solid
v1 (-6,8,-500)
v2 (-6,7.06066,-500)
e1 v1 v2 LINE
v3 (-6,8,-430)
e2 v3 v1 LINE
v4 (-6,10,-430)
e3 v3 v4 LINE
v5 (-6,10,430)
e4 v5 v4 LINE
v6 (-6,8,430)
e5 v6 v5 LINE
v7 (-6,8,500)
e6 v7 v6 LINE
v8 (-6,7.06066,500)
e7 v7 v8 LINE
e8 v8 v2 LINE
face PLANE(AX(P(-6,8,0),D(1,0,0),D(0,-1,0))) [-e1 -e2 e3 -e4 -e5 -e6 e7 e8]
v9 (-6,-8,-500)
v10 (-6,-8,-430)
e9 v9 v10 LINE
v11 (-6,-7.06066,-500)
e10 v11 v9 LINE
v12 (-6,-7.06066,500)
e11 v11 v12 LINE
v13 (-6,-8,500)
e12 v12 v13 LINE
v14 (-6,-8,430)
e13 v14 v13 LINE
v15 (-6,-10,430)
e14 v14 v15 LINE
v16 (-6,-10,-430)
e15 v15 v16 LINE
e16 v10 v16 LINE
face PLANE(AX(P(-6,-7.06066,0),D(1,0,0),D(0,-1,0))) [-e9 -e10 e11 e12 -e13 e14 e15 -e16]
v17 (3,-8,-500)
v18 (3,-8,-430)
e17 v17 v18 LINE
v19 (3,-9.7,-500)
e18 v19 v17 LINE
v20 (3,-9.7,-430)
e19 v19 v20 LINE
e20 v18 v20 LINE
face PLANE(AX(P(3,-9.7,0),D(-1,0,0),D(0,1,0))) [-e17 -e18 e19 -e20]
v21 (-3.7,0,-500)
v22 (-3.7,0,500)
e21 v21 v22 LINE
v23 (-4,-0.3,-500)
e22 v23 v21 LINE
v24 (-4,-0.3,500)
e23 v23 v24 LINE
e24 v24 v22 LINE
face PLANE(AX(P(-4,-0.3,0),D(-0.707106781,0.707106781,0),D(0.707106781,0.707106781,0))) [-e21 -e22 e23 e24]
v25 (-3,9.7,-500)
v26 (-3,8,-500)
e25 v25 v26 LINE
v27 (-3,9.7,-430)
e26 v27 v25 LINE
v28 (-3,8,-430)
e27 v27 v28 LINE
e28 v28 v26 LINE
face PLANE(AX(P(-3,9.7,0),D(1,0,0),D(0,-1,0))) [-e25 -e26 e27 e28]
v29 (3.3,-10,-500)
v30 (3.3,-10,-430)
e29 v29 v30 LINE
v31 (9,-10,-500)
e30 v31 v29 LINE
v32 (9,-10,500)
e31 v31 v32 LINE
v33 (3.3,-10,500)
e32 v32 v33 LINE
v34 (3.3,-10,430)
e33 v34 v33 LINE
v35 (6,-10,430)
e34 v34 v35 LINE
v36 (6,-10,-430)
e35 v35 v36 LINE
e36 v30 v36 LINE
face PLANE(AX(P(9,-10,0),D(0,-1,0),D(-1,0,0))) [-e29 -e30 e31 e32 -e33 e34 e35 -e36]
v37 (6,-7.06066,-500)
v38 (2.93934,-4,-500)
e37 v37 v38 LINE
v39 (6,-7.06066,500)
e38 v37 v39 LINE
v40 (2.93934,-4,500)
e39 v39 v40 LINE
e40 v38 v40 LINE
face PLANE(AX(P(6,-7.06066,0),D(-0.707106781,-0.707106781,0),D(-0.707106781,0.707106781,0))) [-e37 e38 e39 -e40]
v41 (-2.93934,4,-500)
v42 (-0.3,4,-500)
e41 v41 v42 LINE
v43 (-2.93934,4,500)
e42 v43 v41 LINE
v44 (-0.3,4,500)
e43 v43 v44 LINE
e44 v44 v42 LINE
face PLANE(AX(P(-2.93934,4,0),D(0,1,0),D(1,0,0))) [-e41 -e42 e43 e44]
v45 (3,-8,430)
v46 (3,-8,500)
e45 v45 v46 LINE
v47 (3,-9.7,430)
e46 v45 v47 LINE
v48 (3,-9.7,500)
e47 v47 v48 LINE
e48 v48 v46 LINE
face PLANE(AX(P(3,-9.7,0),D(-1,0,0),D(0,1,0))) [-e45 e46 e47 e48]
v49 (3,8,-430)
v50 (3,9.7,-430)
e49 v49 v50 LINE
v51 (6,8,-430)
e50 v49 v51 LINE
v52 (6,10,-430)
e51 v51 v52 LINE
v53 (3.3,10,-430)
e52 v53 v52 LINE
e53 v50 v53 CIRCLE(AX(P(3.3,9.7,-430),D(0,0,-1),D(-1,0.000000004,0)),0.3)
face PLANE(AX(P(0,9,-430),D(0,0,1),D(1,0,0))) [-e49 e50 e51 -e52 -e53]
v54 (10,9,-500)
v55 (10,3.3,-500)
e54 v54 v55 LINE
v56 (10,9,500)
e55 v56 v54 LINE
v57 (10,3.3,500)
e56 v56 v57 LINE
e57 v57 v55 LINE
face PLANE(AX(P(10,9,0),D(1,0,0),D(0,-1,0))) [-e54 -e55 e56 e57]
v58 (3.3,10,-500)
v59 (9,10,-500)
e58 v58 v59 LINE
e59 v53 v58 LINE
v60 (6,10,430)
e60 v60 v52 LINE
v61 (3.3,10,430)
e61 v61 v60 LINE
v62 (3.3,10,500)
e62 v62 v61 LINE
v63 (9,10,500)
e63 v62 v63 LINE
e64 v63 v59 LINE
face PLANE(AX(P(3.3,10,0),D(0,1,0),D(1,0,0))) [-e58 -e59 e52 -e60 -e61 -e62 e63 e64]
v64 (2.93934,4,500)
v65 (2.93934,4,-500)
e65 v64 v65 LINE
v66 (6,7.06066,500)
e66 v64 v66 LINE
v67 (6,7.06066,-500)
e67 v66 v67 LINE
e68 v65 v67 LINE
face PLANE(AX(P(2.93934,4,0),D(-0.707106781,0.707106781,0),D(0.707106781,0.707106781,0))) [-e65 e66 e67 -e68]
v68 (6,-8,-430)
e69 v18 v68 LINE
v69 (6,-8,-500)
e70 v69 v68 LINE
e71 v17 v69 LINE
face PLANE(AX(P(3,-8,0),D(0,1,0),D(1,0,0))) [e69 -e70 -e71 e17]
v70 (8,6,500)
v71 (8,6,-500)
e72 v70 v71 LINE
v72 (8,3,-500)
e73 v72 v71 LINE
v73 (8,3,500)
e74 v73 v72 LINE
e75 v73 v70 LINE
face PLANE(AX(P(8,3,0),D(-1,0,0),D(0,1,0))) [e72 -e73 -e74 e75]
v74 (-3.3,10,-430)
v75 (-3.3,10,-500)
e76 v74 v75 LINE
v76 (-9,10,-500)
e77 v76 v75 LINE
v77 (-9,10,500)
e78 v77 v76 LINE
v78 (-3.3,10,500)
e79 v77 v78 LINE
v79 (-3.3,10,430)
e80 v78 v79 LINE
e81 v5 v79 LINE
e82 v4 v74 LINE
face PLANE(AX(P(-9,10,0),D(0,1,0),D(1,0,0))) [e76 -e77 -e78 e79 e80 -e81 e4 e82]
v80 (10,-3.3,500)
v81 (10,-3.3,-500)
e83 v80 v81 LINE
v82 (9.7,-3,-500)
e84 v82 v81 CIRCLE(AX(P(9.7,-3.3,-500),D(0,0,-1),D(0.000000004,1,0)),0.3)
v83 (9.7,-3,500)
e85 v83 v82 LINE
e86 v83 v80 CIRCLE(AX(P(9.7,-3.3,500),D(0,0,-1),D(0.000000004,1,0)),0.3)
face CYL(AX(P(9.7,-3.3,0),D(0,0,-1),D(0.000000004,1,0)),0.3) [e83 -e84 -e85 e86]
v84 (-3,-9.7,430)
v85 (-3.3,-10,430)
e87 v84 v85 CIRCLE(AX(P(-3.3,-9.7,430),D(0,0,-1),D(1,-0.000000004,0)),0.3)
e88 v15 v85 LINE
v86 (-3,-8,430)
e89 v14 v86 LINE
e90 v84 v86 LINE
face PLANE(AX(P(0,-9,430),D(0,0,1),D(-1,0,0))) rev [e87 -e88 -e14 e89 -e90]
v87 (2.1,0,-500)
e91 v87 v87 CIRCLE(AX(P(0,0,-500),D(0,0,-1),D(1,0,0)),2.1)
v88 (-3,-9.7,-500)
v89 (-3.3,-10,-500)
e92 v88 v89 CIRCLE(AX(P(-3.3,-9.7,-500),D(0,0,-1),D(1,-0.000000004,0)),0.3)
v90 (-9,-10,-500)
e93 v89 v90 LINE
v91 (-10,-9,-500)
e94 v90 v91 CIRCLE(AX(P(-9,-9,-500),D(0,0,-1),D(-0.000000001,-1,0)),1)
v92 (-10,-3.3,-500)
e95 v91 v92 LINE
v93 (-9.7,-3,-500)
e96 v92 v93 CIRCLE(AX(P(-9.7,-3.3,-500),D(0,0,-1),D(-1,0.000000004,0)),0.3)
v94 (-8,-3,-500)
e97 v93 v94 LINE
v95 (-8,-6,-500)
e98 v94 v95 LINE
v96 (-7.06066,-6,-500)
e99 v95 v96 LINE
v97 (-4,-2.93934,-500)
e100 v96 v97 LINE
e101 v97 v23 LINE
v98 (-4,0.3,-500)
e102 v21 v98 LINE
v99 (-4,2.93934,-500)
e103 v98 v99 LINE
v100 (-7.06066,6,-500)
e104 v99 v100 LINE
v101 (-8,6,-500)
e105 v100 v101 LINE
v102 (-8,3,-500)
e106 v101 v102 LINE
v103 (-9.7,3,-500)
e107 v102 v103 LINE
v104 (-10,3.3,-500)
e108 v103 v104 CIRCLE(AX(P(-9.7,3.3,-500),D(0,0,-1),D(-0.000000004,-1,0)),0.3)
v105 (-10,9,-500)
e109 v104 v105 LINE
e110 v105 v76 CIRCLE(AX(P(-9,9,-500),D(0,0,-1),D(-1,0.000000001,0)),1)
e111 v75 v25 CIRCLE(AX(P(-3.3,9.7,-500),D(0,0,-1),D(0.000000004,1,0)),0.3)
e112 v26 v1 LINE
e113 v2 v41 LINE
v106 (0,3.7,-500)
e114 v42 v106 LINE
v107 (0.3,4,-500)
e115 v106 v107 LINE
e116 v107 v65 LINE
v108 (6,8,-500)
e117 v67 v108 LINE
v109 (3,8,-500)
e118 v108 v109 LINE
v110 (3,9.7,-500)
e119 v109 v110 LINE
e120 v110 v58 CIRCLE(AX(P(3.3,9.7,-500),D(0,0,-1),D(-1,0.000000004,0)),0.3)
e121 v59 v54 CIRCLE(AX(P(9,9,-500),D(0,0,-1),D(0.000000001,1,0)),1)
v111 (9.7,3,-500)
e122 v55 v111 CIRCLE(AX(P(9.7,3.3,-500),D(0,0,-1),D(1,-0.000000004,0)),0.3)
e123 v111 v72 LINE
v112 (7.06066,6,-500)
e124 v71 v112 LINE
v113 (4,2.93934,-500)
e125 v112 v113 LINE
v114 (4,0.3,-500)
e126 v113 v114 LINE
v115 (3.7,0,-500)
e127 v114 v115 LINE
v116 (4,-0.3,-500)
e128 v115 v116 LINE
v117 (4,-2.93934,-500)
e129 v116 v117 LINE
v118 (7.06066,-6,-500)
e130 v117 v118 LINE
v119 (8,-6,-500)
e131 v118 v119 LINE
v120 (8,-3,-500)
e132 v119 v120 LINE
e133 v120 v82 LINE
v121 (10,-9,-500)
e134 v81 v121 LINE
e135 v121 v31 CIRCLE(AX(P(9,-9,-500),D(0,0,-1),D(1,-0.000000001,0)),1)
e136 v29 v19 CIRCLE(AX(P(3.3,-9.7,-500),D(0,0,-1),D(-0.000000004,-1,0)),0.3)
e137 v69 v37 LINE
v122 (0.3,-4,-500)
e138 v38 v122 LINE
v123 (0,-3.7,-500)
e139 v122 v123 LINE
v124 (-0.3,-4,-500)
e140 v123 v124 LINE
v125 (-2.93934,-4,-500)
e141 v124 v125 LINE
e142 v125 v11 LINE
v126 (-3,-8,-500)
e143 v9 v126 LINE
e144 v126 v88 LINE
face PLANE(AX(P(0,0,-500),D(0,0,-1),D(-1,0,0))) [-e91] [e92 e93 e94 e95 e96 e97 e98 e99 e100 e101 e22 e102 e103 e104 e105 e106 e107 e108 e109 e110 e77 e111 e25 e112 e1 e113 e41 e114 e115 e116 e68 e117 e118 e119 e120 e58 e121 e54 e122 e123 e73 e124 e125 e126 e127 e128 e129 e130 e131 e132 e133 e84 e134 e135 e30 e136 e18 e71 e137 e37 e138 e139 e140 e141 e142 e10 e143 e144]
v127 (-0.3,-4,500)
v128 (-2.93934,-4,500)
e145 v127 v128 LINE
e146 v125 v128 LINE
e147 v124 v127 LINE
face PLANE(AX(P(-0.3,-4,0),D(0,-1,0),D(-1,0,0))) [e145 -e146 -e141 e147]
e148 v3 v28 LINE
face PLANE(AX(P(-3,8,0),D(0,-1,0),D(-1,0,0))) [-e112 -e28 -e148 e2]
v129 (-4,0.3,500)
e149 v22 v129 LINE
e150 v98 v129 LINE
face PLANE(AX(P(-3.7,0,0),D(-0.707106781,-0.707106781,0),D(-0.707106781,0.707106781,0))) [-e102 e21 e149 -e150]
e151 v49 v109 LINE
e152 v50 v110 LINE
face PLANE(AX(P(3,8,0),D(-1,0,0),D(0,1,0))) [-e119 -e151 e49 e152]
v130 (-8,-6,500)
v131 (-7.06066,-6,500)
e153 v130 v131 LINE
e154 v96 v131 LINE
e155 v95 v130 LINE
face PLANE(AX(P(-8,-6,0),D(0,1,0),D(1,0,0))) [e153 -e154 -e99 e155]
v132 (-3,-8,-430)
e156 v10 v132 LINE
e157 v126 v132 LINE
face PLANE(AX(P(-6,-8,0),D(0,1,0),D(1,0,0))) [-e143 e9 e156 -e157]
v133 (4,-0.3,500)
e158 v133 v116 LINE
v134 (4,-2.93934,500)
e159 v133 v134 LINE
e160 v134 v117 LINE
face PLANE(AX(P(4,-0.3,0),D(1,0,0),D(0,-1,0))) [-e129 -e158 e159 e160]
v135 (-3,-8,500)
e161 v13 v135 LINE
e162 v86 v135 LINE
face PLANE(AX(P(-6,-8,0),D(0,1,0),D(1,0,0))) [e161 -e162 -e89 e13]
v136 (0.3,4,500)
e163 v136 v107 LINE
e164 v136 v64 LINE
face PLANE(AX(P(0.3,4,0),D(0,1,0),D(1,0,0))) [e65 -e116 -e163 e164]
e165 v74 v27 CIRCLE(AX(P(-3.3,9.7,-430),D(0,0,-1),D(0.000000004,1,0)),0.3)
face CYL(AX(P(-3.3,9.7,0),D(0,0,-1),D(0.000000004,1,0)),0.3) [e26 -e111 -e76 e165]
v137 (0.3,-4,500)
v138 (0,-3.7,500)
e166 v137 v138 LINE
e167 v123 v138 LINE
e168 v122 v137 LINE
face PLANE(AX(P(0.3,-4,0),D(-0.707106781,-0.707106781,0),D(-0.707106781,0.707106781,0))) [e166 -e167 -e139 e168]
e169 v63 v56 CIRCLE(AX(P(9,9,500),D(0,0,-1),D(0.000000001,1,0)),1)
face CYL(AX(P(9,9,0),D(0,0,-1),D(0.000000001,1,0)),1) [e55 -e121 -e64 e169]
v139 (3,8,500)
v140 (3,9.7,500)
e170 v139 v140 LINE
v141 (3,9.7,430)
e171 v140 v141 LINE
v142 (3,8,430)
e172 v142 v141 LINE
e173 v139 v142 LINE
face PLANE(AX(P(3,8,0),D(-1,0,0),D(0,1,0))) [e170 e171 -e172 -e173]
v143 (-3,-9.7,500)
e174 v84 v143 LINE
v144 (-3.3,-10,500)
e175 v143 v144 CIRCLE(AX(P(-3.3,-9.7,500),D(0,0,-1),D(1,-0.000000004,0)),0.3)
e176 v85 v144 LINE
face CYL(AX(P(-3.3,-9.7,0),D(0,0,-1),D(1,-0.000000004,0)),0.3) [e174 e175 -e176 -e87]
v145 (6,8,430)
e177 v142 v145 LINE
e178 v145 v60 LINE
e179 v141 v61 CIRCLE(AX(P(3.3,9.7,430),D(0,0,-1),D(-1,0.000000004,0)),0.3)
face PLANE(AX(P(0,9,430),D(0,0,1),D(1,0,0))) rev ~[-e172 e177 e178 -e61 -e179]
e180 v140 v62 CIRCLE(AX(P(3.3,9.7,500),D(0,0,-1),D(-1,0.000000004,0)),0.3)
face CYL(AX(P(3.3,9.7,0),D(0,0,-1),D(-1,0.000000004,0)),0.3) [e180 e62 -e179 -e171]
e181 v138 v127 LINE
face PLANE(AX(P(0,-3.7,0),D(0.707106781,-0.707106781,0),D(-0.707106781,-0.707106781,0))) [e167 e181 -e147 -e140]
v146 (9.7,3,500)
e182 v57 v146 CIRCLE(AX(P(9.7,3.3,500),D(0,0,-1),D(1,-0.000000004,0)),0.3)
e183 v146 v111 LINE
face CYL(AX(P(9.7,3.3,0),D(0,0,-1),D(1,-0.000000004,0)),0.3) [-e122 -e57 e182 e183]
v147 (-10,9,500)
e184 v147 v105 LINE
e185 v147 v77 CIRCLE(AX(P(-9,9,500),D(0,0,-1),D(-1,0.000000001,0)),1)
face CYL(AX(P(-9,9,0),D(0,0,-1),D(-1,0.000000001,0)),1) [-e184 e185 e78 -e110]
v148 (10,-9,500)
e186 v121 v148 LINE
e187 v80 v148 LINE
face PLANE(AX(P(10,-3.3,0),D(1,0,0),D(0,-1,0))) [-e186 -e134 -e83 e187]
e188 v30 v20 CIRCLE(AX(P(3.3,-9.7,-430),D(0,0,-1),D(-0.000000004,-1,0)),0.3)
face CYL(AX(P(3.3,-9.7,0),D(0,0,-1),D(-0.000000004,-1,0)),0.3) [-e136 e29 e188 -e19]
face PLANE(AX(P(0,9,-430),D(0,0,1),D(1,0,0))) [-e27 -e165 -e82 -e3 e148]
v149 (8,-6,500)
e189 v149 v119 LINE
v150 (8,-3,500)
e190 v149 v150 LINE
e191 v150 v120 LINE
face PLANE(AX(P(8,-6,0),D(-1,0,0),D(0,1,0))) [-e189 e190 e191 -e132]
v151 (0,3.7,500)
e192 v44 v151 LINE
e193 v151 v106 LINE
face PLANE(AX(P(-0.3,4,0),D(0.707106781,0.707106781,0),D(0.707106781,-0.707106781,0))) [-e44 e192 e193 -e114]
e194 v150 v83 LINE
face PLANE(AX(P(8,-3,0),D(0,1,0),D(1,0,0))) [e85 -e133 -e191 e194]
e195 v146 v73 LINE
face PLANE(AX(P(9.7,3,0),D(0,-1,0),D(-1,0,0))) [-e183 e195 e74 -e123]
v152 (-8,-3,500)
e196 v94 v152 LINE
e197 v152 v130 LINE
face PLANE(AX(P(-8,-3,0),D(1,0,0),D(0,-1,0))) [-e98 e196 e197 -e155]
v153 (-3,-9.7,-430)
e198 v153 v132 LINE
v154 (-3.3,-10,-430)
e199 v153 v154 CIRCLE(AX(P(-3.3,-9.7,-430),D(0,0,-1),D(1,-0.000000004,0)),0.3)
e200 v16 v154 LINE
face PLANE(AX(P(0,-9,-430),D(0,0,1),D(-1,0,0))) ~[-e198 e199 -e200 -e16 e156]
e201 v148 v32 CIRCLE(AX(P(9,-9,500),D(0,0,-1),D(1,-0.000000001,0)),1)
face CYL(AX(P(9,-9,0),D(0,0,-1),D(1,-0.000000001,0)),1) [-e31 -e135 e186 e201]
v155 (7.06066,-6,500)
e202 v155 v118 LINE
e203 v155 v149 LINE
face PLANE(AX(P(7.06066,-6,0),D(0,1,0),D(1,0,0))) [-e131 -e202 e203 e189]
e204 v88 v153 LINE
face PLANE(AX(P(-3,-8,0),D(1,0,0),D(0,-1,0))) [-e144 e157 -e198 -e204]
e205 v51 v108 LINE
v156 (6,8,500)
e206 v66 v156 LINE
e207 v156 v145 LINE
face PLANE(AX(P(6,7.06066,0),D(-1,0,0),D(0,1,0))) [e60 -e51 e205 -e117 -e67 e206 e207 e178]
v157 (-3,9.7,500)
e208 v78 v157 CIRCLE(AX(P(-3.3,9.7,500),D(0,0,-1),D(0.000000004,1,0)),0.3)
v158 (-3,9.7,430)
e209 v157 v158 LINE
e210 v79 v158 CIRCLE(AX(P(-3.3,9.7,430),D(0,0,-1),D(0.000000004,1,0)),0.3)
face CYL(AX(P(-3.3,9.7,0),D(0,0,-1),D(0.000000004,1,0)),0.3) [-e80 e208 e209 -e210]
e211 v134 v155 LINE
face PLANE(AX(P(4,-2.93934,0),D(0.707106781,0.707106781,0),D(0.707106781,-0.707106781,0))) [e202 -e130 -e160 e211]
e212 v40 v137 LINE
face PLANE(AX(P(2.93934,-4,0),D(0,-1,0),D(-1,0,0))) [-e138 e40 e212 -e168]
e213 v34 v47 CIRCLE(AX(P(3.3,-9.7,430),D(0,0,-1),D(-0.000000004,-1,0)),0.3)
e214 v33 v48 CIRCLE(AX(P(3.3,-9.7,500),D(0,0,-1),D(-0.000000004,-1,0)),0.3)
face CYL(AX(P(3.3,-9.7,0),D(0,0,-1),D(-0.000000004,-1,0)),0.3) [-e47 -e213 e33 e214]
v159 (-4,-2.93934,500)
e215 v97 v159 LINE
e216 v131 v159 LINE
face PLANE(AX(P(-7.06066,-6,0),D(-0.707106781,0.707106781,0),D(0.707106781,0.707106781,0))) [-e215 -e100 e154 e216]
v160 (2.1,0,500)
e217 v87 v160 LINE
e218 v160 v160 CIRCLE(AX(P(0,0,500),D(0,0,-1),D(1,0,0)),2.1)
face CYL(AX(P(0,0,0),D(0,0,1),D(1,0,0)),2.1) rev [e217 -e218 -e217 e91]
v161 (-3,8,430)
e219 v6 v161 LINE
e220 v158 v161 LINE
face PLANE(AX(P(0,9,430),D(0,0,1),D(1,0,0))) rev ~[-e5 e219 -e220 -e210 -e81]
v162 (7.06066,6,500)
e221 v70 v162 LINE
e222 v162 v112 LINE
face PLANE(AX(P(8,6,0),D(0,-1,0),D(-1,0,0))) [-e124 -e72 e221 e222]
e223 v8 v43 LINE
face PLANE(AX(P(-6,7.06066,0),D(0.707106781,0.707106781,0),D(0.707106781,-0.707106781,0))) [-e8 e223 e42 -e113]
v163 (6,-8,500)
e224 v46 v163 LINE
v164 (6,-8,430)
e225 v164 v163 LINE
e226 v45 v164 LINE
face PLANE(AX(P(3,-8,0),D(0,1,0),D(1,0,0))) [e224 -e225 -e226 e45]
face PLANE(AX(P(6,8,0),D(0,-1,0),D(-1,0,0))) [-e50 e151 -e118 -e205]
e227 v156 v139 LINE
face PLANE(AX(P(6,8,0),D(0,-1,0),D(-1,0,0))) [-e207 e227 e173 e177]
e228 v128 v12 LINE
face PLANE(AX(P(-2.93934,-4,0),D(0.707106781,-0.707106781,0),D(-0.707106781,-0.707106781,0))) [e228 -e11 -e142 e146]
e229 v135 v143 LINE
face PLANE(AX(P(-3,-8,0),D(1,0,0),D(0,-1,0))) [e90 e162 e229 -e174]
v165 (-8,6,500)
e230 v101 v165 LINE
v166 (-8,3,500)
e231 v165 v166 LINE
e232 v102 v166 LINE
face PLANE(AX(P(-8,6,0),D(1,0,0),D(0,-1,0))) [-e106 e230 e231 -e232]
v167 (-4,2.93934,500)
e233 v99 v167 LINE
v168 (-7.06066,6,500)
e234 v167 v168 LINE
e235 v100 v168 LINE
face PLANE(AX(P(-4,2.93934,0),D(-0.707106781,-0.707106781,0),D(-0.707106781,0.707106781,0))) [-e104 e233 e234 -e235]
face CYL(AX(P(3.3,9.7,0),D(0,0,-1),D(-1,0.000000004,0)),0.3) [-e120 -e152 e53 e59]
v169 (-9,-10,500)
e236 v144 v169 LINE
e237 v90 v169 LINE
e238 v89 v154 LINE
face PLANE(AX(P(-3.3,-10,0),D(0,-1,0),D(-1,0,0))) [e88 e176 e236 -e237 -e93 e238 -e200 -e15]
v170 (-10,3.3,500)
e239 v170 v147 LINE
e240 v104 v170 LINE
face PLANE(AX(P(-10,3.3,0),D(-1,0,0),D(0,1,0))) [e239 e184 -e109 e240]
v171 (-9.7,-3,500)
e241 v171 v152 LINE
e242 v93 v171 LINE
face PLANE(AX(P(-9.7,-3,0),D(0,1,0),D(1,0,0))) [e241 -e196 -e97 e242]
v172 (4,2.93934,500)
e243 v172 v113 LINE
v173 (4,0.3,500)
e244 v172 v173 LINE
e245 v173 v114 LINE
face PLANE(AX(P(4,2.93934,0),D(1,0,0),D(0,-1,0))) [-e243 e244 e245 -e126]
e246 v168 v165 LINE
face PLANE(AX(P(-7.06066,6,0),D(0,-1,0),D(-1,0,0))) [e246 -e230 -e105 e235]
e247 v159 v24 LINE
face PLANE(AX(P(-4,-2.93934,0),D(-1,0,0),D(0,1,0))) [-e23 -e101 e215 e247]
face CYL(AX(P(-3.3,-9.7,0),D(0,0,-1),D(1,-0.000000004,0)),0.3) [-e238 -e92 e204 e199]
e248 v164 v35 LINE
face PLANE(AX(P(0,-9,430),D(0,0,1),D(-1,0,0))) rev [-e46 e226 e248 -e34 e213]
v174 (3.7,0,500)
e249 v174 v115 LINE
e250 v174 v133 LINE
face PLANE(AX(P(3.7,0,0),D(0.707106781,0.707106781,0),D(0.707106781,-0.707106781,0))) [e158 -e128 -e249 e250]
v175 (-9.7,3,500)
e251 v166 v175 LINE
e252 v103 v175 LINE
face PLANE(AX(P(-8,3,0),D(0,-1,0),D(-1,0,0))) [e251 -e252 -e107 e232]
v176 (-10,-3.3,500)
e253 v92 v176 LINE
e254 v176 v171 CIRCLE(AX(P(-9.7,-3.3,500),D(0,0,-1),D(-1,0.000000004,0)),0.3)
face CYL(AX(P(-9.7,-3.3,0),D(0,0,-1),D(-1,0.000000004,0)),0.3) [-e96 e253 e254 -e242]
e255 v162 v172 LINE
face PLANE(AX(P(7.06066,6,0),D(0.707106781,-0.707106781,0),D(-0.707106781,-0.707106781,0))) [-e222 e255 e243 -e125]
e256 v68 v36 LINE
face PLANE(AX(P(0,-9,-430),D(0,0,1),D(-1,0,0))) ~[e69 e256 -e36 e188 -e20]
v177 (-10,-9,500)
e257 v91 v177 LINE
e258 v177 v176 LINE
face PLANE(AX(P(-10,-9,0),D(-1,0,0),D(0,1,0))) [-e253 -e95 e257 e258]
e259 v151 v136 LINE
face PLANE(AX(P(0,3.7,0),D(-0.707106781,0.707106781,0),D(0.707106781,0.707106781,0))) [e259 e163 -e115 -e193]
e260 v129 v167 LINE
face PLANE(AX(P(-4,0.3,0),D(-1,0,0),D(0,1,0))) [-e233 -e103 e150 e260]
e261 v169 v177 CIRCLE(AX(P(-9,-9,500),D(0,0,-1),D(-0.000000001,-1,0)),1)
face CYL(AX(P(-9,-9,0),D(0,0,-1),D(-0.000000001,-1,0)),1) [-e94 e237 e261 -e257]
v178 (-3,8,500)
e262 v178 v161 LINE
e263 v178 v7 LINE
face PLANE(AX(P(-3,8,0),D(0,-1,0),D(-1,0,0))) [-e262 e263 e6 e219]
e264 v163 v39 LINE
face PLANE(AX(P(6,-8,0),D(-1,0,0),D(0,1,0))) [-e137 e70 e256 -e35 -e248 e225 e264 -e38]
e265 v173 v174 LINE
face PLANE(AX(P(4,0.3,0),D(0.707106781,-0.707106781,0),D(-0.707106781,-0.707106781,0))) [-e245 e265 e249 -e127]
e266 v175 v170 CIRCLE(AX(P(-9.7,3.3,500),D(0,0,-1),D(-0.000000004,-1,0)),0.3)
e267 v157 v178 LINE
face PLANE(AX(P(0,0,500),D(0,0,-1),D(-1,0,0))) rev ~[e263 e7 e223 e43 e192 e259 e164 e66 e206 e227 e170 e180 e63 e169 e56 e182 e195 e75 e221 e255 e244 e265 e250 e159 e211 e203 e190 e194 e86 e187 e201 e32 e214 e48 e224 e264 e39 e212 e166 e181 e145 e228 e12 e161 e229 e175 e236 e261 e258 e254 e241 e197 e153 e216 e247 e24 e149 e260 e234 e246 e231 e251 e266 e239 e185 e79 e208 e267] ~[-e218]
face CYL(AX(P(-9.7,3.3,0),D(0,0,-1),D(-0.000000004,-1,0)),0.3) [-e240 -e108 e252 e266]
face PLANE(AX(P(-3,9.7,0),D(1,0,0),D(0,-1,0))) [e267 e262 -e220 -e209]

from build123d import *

# Parameters (mm, degrees)
SKETCH1_R           = 2.1
BOSS_EXTRUDE1_DEPTH = 500
SKETCH2_W           = 12
SKETCH2_H           = 2
CUT_EXTRUDE1_DEPTH  = 430


with BuildPart() as part:
    # Sketch1 → Boss-Extrude1 (new, symmetric)
    with BuildSketch(Plane(origin=(0, 0, 0), x_dir=(-1, 0, 0), z_dir=(0, 0, -1))):
        with BuildLine():
            Line((10, 3.3), (10, 9))
            ThreePointArc((10, 9), (9.707106781, 9.707106781), (9, 10))
            Line((9, 10), (3.3, 10))
            ThreePointArc((3.3, 10), (3.087867966, 9.912132034), (3, 9.7))
            Line((3, 9.7), (3, 8))
            Line((3, 8), (6, 8))
            Line((6, 8), (6, 7.060660172))
            Line((6, 7.060660172), (2.939339828, 4))
            Line((2.939339828, 4), (0.3, 4))
            Line((0.3, 4), (0, 3.7))
            Line((0, 3.7), (-0.3, 4))
            Line((-0.3, 4), (-2.939339828, 4))
            Line((-2.939339828, 4), (-6, 7.060660172))
            Line((-6, 7.060660172), (-6, 8))
            Line((-6, 8), (-3, 8))
            Line((-3, 8), (-3, 9.7))
            ThreePointArc((-3, 9.7), (-3.087867966, 9.912132034), (-3.3, 10))
            Line((-3.3, 10), (-9, 10))
            ThreePointArc((-9, 10), (-9.707106781, 9.707106781), (-10, 9))
            Line((-10, 9), (-10, 3.3))
            ThreePointArc((-10, 3.3), (-9.912132034, 3.087867966), (-9.7, 3))
            Line((-9.7, 3), (-8, 3))
            Line((-8, 3), (-8, 6))
            Line((-8, 6), (-7.060660172, 6))
            Line((-7.060660172, 6), (-4, 2.939339828))
            Line((-4, 2.939339828), (-4, 0.3))
            Line((-4, 0.3), (-3.7, 0))
            Line((-3.7, 0), (-4, -0.3))
            Line((-4, -0.3), (-4, -2.939339828))
            Line((-4, -2.939339828), (-7.060660172, -6))
            Line((-7.060660172, -6), (-8, -6))
            Line((-8, -6), (-8, -3))
            Line((-8, -3), (-9.7, -3))
            ThreePointArc((-9.7, -3), (-9.912132034, -3.087867966), (-10, -3.3))
            Line((-10, -3.3), (-10, -9))
            ThreePointArc((-10, -9), (-9.707106781, -9.707106781), (-9, -10))
            Line((-9, -10), (-3.3, -10))
            ThreePointArc((-3.3, -10), (-3.087867966, -9.912132034), (-3, -9.7))
            Line((-3, -9.7), (-3, -8))
            Line((-3, -8), (-6, -8))
            Line((-6, -8), (-6, -7.060660172))
            Line((-6, -7.060660172), (-2.939339828, -4))
            Line((-2.939339828, -4), (-0.3, -4))
            Line((-0.3, -4), (0, -3.7))
            Line((0, -3.7), (0.3, -4))
            Line((0.3, -4), (2.939339828, -4))
            Line((2.939339828, -4), (6, -7.060660172))
            Line((6, -7.060660172), (6, -8))
            Line((6, -8), (3, -8))
            Line((3, -8), (3, -9.7))
            ThreePointArc((3, -9.7), (3.087867966, -9.912132034), (3.3, -10))
            Line((3.3, -10), (9, -10))
            ThreePointArc((9, -10), (9.707106781, -9.707106781), (10, -9))
            Line((10, -9), (10, -3.3))
            ThreePointArc((10, -3.3), (9.912132034, -3.087867966), (9.7, -3))
            Line((9.7, -3), (8, -3))
            Line((8, -3), (8, -6))
            Line((8, -6), (7.060660172, -6))
            Line((7.060660172, -6), (4, -2.939339828))
            Line((4, -2.939339828), (4, -0.3))
            Line((4, -0.3), (3.7, 0))
            Line((3.7, 0), (4, 0.3))
            Line((4, 0.3), (4, 2.939339828))
            Line((4, 2.939339828), (7.060660172, 6))
            Line((7.060660172, 6), (8, 6))
            Line((8, 6), (8, 3))
            Line((8, 3), (9.7, 3))
            ThreePointArc((9.7, 3), (9.912132034, 3.087867966), (10, 3.3))
        make_face()
        with Locations(Location((0, 0, 0), (0, 0, 180))):
            Circle(SKETCH1_R, mode=Mode.SUBTRACT)
    extrude(amount=BOSS_EXTRUDE1_DEPTH, both=True)

    # Sketch2 → Cut-Extrude1 (cut, symmetric)
    with BuildSketch(Plane.XY):
        with Locations((0, 9)):
            Rectangle(SKETCH2_W, SKETCH2_H)
    cut_extrude1 = extrude(amount=CUT_EXTRUDE1_DEPTH, both=True, mode=Mode.SUBTRACT)

    # Mirror1: Cut-Extrude1 across plane
    add(cut_extrude1.mirror(Plane.ZX), mode=Mode.SUBTRACT)


solid = part.part
